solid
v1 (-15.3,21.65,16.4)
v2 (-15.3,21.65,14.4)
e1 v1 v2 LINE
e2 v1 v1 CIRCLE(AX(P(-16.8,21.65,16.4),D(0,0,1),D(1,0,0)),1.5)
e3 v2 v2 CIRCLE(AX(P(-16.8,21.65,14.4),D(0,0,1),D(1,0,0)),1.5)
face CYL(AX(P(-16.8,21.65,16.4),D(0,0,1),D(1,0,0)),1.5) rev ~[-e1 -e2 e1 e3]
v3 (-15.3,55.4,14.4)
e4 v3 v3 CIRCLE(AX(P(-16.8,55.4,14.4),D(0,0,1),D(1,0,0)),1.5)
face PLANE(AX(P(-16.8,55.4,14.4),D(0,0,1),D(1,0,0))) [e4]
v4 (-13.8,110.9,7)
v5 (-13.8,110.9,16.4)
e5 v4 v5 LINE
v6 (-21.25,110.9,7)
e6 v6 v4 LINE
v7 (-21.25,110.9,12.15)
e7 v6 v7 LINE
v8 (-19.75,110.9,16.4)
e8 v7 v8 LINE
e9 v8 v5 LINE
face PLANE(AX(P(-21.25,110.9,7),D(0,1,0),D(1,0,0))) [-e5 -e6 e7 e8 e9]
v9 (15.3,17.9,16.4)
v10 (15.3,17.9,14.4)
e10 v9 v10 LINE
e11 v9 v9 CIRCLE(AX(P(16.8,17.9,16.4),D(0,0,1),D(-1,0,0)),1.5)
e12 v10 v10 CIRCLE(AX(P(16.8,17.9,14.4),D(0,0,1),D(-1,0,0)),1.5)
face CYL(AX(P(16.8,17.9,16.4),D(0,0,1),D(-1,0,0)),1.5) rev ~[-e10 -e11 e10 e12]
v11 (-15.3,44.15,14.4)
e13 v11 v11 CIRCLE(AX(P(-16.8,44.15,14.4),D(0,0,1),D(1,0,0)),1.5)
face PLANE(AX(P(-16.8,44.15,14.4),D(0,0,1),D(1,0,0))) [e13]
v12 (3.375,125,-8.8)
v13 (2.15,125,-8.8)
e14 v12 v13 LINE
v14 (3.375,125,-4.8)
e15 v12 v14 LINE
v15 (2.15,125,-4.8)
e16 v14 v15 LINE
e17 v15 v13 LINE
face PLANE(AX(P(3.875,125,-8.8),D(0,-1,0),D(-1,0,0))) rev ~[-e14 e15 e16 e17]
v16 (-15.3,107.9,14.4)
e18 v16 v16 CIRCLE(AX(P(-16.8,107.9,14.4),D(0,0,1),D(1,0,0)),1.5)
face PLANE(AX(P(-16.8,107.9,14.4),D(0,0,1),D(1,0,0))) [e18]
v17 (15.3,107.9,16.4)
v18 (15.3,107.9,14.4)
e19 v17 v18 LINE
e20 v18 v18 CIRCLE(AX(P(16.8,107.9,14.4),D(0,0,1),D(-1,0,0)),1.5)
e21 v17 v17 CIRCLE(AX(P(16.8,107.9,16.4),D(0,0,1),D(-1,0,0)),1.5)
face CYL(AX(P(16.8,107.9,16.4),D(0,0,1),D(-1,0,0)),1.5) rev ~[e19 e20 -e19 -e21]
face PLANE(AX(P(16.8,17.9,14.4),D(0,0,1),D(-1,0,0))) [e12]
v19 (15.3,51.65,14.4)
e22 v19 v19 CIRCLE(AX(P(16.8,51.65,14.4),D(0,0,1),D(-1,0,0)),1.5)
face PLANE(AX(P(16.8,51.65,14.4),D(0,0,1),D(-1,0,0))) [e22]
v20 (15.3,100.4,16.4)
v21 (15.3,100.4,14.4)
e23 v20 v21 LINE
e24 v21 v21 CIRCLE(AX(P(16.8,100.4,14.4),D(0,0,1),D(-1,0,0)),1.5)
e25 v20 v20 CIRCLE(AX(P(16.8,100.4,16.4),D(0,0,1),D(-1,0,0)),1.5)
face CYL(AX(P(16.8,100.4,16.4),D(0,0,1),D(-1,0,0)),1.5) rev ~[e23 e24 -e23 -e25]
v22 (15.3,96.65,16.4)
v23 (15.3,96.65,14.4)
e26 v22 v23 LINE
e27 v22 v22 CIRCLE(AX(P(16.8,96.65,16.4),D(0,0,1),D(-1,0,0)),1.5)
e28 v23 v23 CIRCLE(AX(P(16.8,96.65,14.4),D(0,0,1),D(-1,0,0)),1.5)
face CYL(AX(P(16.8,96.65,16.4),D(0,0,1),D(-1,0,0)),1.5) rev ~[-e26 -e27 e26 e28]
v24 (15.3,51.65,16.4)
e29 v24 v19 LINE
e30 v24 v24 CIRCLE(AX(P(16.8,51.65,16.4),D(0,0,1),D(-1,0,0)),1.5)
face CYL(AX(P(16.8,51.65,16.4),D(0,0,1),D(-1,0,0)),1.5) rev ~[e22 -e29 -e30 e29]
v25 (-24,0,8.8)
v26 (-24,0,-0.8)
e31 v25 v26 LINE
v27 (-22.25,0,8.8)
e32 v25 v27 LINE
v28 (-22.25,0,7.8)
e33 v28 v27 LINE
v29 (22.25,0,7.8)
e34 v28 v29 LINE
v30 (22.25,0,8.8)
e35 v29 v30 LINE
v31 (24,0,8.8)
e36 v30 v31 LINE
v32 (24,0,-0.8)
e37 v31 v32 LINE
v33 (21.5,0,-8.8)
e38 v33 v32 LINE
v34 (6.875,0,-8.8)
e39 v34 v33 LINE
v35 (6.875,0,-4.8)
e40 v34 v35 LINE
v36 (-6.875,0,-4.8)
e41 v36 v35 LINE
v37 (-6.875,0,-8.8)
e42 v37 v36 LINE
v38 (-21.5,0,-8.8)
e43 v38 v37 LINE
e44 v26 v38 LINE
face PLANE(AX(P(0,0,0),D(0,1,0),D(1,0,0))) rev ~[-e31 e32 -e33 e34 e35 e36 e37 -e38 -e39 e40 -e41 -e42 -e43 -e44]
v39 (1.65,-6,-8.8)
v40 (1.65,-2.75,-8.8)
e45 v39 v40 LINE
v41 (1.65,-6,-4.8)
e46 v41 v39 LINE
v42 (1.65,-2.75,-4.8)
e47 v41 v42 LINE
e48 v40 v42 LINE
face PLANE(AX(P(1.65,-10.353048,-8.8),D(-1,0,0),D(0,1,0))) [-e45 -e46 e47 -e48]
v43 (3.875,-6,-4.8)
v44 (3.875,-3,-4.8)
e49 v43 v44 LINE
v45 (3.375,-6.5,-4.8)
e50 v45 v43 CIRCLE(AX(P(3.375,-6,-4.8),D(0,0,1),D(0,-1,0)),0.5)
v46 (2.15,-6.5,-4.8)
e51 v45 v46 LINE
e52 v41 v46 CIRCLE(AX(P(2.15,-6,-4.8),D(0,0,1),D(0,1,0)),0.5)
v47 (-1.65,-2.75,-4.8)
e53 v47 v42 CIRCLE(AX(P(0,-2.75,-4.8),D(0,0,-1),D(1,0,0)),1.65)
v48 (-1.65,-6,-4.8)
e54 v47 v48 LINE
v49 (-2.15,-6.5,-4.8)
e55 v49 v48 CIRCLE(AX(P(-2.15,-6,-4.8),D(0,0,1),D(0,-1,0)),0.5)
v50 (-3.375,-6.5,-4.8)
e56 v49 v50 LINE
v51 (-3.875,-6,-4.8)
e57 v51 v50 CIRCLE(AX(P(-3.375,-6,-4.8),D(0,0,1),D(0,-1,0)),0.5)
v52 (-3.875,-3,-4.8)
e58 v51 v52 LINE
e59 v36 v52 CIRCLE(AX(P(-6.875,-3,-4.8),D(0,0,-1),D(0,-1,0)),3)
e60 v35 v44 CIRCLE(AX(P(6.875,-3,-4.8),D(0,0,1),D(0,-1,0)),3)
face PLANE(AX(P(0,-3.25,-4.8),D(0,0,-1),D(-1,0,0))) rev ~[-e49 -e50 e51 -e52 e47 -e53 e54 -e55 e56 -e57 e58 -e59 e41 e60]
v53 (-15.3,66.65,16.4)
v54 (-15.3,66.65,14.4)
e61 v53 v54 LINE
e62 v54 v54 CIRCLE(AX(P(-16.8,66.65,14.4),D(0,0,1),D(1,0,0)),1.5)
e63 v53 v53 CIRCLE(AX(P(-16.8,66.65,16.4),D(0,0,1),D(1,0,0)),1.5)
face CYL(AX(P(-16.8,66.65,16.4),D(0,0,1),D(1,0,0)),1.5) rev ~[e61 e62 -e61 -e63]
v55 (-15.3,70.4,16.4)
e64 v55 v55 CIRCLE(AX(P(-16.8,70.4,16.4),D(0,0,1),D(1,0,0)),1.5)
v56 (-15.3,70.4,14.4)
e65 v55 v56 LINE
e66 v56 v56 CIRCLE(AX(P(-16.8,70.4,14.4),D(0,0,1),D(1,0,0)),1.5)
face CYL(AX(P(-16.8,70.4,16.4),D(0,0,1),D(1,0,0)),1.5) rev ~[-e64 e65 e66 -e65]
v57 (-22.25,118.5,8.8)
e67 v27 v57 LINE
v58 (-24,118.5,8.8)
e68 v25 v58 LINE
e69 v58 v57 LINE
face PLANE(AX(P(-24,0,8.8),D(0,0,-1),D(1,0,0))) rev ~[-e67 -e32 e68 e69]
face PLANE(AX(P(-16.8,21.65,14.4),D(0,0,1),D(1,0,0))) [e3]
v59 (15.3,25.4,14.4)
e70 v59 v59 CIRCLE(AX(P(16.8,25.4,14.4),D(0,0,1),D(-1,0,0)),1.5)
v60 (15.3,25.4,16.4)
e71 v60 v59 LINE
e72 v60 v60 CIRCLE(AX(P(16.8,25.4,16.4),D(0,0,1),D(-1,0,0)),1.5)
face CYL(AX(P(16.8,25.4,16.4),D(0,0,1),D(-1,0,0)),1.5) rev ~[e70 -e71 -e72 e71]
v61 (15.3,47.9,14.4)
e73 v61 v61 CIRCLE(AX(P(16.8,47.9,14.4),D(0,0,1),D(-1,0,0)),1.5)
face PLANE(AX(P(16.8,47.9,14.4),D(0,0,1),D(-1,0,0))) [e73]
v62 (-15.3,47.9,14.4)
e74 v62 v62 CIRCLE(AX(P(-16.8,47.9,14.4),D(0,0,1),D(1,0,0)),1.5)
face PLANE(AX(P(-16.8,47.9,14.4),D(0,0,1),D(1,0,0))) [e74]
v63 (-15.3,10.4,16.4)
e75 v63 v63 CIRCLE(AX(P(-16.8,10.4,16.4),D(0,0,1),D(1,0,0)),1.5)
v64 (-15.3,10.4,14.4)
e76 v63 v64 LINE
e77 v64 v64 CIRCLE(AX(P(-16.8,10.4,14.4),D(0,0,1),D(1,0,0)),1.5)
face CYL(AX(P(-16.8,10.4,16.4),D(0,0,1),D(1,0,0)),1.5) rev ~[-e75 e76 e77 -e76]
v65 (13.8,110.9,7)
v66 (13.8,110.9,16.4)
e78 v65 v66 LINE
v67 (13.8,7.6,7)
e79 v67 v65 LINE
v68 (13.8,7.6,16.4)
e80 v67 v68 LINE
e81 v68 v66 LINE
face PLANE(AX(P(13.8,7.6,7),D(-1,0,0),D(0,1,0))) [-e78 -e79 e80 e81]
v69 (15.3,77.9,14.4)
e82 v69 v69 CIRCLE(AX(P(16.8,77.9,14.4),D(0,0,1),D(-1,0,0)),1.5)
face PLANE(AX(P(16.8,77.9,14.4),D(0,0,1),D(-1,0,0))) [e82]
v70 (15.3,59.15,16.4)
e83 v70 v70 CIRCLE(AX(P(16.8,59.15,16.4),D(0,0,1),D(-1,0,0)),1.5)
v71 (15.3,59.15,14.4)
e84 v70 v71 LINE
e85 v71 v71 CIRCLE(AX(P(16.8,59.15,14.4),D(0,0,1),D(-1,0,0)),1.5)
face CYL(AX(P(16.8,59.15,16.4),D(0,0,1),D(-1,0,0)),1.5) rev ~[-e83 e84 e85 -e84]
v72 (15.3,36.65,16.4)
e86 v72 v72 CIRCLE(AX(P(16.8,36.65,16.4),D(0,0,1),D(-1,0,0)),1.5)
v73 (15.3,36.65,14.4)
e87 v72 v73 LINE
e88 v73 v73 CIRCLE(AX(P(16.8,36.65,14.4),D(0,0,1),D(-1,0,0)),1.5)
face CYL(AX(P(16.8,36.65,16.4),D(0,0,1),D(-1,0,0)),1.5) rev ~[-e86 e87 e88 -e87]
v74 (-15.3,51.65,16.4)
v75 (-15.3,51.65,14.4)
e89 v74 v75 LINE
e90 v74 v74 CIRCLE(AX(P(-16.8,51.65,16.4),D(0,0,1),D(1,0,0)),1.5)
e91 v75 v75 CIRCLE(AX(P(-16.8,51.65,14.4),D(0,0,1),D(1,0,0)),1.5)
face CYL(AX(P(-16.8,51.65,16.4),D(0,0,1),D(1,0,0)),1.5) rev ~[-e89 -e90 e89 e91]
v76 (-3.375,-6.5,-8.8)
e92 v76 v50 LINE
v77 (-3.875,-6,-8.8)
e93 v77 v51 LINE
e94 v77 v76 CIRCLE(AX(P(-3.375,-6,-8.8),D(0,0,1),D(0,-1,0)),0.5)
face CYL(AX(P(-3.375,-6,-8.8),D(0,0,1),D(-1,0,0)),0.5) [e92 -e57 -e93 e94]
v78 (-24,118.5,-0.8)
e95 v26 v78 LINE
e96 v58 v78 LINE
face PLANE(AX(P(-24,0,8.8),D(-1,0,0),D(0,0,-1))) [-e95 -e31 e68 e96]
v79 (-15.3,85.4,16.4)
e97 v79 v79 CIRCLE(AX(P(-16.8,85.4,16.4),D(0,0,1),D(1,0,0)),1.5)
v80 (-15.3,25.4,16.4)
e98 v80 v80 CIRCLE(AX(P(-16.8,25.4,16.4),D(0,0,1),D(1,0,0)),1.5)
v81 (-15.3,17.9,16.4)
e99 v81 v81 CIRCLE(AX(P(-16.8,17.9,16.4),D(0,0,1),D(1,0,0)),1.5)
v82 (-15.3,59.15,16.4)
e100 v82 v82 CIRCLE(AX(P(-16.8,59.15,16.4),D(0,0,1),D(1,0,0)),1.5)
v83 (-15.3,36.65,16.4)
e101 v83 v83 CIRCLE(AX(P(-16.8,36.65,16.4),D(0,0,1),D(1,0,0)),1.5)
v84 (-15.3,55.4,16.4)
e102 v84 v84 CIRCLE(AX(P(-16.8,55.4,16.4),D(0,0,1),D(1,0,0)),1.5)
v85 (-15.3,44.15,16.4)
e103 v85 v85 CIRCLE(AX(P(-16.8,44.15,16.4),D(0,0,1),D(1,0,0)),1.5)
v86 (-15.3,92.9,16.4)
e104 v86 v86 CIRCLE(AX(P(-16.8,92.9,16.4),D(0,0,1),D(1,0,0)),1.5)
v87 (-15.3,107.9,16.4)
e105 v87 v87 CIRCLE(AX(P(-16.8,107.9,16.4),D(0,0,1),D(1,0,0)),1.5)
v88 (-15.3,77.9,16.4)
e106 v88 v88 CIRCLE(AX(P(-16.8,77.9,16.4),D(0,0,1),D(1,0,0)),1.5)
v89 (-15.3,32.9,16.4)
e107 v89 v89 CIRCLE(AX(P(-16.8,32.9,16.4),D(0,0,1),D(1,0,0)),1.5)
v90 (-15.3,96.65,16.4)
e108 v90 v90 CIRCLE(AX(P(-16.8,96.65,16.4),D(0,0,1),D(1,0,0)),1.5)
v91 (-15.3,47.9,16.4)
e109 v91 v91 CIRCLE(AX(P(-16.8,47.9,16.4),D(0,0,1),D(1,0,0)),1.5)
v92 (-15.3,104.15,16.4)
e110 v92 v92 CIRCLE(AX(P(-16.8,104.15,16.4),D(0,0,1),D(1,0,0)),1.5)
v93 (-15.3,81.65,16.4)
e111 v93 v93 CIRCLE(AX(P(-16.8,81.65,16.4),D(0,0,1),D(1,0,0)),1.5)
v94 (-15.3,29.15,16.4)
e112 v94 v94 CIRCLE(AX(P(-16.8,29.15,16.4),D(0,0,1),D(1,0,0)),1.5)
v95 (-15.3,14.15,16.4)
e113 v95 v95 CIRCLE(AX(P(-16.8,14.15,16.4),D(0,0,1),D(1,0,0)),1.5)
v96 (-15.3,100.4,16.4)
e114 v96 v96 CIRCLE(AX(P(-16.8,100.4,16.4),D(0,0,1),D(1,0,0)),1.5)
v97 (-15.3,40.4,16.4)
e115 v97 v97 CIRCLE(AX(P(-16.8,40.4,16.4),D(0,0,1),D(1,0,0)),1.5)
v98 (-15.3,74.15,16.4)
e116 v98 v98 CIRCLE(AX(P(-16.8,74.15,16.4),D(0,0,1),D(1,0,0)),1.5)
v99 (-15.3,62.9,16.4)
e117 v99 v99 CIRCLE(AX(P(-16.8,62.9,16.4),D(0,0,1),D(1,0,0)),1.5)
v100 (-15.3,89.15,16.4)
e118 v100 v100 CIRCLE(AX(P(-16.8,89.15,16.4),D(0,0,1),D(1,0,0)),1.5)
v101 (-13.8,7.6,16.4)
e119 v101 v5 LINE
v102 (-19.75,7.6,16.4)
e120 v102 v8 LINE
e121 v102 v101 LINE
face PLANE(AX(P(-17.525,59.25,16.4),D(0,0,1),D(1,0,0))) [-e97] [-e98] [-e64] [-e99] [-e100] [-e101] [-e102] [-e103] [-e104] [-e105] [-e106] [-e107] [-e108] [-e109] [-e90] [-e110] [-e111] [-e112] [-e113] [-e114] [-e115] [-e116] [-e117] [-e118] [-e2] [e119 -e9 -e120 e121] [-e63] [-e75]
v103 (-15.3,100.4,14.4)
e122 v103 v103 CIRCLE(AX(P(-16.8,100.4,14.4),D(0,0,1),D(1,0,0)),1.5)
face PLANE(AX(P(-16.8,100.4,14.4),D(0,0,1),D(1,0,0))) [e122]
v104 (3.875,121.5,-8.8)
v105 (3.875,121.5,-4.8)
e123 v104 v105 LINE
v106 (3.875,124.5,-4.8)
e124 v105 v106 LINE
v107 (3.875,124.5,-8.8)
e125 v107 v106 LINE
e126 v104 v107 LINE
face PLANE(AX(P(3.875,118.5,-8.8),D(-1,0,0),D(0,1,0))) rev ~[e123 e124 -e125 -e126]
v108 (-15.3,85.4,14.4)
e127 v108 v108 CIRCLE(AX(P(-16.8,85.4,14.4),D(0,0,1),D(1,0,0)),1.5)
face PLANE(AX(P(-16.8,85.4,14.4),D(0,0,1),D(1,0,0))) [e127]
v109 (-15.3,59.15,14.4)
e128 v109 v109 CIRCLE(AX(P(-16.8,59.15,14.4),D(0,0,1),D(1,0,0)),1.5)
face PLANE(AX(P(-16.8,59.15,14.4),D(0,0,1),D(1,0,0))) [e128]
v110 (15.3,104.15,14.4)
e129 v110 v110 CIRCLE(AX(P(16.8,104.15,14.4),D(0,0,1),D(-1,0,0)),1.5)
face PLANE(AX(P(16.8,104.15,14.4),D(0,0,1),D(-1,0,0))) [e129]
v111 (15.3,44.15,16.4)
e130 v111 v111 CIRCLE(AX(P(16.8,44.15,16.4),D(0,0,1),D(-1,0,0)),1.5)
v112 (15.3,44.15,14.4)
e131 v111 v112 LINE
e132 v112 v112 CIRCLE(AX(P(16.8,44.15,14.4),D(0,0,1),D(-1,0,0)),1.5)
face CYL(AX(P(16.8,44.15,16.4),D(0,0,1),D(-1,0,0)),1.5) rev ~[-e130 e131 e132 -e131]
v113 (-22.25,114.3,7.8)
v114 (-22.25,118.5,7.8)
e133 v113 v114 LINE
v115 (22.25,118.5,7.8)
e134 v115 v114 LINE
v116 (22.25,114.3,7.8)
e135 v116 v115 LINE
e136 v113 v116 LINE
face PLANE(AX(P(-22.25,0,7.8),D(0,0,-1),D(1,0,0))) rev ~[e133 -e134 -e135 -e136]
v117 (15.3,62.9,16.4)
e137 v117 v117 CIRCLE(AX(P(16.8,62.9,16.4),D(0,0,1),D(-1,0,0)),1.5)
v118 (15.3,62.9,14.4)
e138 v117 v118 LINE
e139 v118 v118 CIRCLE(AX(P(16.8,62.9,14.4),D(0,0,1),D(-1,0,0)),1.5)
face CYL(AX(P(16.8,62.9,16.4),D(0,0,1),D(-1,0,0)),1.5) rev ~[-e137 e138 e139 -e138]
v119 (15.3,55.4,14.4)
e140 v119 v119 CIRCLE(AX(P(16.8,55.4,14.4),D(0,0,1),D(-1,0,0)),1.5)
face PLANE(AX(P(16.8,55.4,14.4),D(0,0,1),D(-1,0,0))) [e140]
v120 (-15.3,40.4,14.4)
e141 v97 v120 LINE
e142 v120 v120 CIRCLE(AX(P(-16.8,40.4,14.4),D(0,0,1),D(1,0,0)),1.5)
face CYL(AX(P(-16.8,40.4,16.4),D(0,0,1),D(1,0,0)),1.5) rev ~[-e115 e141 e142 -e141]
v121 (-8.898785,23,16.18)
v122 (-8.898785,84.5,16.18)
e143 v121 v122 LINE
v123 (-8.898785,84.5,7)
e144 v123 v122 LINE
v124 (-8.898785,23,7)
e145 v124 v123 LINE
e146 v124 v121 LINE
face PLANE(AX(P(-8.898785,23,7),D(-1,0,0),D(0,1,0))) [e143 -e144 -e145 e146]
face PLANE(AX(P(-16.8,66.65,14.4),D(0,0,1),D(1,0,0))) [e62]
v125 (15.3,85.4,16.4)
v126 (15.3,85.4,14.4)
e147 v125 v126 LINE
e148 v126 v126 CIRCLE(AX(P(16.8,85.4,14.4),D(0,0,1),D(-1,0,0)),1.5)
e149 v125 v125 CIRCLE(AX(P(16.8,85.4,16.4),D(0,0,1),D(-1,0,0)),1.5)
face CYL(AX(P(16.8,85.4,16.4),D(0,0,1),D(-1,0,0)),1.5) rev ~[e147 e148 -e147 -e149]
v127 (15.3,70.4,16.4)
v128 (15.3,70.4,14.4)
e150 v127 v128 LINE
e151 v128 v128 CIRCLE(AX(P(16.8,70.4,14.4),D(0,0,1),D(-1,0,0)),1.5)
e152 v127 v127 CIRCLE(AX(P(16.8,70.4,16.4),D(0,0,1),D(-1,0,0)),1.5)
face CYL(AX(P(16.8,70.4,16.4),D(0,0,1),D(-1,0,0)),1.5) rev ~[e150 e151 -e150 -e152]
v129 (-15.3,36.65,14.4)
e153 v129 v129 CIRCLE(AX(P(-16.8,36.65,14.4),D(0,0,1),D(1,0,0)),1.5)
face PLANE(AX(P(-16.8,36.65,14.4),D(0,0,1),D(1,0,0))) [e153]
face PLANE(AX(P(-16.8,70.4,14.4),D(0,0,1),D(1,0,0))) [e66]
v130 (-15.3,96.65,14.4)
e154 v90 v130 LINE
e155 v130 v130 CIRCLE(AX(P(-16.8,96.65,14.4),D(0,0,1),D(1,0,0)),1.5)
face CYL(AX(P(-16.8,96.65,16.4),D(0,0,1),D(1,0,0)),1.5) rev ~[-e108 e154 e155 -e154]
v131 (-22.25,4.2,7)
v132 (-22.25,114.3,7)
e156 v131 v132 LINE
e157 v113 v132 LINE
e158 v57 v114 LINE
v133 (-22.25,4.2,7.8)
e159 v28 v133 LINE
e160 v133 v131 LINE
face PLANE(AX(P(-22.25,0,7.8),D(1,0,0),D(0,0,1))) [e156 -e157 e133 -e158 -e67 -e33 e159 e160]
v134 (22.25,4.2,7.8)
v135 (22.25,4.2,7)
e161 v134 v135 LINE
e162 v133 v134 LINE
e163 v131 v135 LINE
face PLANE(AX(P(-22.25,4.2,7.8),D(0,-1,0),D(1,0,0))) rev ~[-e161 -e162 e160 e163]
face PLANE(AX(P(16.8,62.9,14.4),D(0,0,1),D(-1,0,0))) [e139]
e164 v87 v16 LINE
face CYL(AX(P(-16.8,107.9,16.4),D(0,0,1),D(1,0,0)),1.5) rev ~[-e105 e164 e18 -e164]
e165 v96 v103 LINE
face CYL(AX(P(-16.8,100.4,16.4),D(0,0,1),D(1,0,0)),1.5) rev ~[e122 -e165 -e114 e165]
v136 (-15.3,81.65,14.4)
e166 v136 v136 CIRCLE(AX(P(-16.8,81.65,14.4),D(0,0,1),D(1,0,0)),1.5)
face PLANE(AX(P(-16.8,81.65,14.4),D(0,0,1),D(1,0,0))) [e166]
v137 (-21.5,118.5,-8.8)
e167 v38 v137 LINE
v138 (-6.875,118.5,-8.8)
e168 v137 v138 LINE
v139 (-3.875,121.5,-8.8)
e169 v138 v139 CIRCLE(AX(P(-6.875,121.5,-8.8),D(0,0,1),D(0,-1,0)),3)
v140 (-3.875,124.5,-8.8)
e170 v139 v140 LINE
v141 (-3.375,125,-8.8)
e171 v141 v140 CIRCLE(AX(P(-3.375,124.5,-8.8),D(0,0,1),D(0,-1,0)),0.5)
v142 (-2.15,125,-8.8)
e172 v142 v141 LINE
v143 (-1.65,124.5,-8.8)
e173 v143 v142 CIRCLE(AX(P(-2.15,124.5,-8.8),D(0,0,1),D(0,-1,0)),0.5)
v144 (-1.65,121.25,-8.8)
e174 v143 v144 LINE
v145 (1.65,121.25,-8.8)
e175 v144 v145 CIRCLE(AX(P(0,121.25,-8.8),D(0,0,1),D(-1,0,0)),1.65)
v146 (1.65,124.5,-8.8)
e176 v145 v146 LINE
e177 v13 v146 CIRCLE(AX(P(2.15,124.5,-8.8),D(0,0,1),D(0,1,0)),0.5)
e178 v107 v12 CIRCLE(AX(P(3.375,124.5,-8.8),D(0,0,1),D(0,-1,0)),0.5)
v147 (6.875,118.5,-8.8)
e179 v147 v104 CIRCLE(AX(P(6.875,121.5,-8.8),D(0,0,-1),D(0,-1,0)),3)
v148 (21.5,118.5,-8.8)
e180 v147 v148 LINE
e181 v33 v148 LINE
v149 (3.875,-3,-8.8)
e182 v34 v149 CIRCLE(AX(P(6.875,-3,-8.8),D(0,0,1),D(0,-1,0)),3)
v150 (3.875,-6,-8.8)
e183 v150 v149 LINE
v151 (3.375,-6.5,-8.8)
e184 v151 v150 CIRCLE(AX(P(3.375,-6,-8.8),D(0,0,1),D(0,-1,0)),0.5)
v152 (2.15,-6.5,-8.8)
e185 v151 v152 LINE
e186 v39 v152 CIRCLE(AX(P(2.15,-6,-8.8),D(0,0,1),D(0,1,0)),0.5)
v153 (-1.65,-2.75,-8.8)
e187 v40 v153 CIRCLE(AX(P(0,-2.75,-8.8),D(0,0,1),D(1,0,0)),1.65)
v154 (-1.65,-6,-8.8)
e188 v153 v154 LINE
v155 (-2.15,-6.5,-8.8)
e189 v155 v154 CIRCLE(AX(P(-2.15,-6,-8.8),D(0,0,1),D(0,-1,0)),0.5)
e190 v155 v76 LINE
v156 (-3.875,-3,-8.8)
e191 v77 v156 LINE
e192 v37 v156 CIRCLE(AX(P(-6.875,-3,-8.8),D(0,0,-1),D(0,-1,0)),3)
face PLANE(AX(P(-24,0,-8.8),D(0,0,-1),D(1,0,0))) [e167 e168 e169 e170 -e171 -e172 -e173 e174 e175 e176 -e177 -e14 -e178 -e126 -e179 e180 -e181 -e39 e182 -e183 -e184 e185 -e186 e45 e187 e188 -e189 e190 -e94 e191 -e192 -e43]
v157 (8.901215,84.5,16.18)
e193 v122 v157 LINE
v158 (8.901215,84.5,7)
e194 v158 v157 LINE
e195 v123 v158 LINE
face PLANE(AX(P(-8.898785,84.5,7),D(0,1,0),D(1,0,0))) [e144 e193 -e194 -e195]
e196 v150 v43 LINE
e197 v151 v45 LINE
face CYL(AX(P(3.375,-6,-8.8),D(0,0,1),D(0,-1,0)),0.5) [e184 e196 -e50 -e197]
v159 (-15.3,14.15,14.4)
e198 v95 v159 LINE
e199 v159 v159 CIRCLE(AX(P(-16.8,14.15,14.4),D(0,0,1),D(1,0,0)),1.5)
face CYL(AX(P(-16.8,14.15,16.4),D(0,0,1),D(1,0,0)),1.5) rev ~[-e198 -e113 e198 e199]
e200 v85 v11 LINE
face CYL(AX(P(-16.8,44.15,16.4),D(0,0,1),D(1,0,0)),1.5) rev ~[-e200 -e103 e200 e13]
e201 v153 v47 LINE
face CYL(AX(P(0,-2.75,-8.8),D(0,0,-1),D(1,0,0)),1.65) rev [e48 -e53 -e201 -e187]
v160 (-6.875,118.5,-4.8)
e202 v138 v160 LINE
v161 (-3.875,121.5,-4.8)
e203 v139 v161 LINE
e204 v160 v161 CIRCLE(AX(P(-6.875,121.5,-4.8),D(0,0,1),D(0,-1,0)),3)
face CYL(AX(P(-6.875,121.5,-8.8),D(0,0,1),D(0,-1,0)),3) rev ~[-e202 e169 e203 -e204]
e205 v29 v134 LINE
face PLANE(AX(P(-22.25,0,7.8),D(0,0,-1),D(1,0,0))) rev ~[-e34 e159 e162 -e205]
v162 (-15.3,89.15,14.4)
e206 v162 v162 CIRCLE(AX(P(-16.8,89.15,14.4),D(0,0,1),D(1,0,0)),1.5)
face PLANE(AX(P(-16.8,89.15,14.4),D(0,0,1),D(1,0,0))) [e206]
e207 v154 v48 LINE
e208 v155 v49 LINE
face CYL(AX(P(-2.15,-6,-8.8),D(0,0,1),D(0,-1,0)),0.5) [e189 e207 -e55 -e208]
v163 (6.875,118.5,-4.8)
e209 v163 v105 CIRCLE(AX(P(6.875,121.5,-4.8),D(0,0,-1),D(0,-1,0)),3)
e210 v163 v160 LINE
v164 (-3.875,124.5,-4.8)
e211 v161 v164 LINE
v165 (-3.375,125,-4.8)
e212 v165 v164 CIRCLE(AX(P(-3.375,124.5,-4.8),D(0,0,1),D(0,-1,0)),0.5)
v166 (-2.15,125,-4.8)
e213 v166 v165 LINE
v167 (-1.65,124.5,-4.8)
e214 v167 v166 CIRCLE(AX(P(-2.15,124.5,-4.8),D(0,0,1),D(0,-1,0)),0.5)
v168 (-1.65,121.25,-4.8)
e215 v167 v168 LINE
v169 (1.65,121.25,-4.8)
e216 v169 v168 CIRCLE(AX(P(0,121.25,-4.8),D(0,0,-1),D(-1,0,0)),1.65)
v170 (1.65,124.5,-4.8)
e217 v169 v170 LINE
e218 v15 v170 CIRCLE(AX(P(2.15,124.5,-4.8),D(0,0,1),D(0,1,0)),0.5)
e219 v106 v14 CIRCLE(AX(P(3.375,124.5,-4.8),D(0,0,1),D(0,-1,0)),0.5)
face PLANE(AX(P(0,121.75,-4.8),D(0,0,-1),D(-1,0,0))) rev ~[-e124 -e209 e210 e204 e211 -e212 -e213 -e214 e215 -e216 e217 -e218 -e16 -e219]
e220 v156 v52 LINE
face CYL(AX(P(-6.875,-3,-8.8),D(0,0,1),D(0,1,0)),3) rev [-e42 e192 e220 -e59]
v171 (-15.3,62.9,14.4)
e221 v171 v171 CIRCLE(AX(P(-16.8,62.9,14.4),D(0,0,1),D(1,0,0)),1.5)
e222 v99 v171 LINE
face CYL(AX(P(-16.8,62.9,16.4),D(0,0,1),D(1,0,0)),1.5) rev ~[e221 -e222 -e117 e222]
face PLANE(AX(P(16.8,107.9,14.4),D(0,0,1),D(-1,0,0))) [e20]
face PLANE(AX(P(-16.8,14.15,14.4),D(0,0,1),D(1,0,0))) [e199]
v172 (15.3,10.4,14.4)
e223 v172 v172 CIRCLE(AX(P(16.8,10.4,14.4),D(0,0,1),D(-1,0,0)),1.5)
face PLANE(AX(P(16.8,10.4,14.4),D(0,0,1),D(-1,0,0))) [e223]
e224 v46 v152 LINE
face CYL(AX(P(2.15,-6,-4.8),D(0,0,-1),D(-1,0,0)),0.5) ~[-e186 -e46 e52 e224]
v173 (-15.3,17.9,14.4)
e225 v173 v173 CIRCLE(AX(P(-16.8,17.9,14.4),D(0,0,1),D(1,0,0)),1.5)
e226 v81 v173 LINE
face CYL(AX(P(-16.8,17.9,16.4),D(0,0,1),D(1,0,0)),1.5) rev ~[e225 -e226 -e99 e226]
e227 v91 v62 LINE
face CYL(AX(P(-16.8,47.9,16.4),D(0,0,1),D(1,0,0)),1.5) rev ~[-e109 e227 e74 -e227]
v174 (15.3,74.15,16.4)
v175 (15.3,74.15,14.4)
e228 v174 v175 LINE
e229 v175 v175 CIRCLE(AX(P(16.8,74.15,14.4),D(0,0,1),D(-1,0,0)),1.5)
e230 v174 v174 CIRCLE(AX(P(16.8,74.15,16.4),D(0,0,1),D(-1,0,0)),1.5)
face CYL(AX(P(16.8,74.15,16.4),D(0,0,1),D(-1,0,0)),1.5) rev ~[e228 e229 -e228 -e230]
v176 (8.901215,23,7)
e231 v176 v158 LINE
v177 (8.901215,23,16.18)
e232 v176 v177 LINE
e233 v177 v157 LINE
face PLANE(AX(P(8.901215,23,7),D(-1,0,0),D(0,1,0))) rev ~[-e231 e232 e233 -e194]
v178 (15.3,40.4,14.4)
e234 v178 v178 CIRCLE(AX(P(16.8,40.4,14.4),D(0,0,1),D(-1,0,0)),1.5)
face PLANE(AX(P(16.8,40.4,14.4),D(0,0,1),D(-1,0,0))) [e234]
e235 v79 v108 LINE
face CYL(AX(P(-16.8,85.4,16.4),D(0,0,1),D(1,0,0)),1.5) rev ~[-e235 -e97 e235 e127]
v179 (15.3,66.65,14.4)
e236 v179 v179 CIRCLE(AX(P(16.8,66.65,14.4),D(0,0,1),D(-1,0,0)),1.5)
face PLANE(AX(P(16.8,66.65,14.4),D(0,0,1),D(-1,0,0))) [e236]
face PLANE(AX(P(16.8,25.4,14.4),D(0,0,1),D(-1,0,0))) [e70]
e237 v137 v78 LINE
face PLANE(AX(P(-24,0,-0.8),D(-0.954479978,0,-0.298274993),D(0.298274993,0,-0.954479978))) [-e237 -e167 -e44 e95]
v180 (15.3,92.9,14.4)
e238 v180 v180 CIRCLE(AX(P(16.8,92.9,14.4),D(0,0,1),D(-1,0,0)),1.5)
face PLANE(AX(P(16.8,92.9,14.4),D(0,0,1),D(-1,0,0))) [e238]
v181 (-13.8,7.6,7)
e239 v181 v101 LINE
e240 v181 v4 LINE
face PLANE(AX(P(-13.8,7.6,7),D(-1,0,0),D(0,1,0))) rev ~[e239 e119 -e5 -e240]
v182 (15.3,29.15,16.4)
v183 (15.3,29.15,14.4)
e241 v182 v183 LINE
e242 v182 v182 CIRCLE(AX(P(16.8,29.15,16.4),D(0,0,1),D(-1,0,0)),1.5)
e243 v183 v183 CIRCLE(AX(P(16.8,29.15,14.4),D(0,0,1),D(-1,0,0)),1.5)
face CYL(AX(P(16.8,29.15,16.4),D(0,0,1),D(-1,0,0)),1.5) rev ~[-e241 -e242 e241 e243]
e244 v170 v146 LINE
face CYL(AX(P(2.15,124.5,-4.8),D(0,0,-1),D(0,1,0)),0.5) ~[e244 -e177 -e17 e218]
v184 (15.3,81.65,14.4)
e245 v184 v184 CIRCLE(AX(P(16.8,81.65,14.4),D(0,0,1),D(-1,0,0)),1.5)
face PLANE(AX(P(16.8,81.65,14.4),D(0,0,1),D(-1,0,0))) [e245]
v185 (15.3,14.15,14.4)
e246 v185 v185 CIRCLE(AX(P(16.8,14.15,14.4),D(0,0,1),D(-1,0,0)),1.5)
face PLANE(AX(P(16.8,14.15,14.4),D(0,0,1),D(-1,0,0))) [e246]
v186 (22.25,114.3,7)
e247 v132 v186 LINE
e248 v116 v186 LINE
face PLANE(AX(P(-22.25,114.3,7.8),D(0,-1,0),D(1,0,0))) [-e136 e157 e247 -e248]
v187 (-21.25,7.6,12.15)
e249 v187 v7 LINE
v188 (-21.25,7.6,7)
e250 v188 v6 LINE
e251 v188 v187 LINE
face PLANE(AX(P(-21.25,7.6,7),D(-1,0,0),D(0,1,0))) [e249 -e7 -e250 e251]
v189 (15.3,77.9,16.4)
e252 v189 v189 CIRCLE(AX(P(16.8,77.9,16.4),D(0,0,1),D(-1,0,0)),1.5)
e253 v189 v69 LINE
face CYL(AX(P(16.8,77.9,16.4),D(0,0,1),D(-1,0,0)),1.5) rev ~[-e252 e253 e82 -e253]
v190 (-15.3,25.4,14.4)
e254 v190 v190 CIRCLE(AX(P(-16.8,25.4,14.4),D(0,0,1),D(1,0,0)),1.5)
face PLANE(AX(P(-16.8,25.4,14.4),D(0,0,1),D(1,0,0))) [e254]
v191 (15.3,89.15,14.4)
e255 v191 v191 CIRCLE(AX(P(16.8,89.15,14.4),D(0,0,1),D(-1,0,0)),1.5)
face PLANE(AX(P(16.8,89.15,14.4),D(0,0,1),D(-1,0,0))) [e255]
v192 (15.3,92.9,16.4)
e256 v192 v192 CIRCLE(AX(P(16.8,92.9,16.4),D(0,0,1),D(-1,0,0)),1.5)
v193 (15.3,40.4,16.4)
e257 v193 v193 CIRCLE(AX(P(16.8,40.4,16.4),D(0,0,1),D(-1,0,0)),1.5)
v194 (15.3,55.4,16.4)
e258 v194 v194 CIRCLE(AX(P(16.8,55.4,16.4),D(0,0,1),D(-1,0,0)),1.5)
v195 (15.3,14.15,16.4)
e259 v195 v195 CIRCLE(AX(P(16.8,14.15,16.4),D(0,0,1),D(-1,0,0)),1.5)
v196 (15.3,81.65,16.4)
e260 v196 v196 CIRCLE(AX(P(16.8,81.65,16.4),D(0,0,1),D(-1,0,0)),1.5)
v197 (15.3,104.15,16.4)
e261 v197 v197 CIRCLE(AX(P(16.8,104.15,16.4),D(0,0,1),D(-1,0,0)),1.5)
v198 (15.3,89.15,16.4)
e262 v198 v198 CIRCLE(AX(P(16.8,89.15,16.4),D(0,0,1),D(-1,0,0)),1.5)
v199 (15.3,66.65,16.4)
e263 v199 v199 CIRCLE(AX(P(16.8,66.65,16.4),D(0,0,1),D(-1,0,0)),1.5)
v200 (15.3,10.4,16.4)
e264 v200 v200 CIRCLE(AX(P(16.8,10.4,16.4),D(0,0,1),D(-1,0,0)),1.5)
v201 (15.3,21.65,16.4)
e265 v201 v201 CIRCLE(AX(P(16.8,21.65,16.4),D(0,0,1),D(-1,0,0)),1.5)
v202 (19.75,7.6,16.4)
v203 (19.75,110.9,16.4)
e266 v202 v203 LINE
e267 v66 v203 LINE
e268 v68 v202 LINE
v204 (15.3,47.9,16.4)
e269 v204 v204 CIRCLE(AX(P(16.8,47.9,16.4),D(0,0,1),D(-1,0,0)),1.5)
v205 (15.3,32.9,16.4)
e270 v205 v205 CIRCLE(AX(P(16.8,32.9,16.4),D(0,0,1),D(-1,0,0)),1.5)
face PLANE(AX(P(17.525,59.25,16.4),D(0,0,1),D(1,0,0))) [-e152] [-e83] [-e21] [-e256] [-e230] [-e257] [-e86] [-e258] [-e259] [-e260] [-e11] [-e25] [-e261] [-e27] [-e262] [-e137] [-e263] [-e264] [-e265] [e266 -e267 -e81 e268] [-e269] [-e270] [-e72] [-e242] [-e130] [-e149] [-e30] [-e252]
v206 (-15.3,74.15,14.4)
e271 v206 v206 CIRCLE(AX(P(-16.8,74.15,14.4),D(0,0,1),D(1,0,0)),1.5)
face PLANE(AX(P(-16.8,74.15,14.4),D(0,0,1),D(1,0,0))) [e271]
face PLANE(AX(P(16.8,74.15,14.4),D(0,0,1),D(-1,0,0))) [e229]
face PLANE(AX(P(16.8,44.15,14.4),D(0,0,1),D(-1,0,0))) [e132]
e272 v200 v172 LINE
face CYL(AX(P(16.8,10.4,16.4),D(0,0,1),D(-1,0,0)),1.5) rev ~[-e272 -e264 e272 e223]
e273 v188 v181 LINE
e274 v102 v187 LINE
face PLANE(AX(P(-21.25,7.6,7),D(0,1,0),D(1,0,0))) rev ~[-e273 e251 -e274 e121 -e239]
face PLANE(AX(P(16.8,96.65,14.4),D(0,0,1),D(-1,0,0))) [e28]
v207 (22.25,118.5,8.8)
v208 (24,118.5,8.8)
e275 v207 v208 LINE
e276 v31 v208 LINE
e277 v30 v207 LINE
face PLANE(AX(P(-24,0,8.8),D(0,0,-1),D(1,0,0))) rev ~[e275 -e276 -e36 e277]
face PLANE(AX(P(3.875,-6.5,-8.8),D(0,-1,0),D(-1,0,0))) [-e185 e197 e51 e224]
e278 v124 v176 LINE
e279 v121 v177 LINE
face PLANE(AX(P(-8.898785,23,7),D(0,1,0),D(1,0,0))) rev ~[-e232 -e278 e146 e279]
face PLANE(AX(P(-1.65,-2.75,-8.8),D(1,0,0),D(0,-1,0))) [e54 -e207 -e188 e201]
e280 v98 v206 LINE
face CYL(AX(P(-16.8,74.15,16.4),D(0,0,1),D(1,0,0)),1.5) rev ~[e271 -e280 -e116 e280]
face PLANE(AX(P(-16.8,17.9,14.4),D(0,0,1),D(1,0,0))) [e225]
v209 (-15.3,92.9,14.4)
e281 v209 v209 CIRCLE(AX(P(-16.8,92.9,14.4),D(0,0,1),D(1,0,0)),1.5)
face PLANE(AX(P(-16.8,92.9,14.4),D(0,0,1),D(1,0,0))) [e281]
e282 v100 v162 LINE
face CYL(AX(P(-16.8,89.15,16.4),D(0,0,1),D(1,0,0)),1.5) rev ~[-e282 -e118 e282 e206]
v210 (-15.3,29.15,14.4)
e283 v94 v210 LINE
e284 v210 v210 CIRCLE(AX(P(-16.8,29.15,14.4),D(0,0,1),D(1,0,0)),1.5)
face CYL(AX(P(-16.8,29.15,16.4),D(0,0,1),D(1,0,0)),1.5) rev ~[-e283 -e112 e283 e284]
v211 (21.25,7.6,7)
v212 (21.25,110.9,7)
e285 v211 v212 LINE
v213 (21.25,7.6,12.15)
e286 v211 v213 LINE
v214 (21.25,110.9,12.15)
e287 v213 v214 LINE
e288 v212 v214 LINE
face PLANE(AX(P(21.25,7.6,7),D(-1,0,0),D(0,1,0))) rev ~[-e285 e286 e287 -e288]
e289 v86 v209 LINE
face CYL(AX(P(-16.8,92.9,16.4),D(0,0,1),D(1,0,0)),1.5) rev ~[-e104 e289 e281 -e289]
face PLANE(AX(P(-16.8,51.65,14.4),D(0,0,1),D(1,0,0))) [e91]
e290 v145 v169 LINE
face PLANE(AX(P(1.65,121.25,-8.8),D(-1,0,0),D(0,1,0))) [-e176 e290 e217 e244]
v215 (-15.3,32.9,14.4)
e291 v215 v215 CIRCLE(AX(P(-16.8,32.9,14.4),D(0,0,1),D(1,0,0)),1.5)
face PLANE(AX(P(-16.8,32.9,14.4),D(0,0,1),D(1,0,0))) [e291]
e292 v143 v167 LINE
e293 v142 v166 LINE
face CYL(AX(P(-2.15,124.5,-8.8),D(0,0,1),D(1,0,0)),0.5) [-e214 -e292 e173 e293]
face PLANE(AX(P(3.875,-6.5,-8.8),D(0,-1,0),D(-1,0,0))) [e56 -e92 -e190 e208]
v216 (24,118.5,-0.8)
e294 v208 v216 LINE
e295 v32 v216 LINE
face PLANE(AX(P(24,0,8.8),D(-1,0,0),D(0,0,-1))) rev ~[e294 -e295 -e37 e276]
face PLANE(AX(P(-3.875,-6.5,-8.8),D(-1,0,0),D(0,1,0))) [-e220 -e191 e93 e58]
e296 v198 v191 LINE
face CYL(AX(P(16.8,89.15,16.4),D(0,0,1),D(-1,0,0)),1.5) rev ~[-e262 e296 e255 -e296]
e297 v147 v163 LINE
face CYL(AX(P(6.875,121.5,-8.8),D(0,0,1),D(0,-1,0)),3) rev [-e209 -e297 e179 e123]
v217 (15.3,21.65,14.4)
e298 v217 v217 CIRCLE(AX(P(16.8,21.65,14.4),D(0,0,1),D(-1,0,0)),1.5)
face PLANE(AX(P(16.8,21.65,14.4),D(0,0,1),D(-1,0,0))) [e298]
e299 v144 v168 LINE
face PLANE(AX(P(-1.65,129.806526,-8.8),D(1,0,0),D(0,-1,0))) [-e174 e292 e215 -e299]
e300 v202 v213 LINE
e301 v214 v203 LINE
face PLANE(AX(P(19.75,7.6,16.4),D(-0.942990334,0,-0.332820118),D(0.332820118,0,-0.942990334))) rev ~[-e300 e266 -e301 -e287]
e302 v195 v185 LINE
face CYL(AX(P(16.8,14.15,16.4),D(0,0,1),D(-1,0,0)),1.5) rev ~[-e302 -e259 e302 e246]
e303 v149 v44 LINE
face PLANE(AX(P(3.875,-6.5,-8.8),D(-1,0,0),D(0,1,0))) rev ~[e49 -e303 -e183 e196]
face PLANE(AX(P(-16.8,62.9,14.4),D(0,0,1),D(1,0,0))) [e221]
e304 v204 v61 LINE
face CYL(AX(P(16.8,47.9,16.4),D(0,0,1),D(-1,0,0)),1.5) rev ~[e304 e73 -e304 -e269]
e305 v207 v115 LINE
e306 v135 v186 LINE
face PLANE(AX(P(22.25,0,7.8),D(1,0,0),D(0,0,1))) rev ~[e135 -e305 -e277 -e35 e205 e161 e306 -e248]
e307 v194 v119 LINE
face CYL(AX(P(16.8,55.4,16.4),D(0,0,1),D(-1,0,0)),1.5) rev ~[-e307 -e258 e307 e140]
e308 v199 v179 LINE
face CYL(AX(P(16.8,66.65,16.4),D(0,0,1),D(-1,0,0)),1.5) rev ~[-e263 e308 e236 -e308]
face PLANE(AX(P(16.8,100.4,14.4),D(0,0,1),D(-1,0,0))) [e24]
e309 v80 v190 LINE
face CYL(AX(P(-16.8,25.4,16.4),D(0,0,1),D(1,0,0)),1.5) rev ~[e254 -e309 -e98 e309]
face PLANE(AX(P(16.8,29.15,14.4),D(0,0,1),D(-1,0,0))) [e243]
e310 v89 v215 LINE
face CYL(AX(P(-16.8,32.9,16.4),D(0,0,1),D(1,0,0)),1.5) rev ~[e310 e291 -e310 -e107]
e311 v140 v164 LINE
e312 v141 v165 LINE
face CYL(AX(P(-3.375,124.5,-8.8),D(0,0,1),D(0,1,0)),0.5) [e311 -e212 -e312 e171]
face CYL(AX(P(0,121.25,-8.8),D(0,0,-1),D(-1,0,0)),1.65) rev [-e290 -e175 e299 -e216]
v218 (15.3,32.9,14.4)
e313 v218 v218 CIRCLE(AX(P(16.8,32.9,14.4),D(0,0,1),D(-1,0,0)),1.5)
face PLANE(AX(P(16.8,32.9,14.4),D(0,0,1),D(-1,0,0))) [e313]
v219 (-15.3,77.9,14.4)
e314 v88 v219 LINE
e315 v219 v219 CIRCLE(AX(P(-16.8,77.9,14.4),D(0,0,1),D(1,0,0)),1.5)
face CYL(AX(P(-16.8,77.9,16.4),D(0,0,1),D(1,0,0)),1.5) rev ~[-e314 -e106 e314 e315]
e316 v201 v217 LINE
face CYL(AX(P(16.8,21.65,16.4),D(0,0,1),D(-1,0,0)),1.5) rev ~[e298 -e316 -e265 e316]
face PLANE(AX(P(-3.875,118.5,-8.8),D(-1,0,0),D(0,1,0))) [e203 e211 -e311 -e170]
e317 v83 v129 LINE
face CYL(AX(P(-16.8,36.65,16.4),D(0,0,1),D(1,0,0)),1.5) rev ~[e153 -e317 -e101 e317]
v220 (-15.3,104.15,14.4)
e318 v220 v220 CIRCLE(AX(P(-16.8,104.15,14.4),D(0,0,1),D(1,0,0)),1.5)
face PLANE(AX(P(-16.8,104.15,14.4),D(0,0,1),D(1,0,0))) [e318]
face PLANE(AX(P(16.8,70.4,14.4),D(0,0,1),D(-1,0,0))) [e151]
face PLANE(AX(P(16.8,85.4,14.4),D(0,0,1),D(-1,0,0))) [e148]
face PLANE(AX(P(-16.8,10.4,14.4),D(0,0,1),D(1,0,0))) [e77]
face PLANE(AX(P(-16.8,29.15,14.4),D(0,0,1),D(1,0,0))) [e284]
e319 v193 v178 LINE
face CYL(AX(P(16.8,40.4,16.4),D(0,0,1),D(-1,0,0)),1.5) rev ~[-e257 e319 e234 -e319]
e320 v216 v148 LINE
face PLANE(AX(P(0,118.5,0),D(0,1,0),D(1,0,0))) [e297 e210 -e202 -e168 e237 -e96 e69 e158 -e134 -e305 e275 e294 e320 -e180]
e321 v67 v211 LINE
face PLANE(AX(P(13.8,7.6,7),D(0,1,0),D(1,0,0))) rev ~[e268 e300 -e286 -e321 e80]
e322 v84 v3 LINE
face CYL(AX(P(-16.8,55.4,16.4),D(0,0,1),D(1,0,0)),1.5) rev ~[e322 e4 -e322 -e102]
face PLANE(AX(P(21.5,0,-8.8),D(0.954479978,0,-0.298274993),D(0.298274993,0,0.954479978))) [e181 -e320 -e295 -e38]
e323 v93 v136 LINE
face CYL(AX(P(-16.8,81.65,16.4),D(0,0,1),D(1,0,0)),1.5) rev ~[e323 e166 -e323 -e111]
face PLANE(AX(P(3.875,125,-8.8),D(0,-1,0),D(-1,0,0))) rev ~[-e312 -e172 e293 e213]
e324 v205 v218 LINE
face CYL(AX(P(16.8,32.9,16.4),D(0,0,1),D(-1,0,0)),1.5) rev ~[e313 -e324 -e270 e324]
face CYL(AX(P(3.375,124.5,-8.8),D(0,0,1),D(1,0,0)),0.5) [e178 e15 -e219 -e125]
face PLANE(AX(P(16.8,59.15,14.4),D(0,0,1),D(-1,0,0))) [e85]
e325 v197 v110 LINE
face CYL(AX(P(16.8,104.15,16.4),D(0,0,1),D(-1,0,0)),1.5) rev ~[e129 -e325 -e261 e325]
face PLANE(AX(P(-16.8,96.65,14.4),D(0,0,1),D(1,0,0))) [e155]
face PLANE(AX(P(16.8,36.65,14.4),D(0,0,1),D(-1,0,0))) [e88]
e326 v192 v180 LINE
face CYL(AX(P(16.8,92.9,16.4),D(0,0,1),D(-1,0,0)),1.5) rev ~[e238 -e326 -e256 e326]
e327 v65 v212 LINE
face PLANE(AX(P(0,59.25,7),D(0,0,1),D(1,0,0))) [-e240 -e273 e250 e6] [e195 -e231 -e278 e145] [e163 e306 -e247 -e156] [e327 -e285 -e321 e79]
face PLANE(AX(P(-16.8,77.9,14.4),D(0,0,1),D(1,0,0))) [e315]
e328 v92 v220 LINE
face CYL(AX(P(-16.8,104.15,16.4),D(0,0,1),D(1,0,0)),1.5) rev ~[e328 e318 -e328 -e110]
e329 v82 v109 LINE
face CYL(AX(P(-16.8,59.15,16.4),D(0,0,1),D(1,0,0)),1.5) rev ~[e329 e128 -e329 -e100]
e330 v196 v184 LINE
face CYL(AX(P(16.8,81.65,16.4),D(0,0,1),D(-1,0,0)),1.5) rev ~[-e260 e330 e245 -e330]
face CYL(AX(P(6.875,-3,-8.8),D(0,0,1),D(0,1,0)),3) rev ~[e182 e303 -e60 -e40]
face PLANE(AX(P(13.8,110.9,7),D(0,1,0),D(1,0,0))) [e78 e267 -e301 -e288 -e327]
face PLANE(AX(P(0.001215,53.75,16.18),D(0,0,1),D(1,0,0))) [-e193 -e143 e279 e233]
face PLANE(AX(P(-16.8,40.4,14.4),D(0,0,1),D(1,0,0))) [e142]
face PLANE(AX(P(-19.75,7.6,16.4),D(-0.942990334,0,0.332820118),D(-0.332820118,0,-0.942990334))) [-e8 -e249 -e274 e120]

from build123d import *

# Parameters (mm, degrees)
SKETCH1_W           = 48
SKETCH1_H           = 17.6
BOSS_EXTRUDE1_DEPTH = 118.5
SKETCH2_W           = 44.5
SKETCH2_H           = 1
CUT_EXTRUDE1_DEPTH  = 122.225781086
SKETCH3_W           = 44.5
SKETCH3_H           = 110.1
CUT_EXTRUDE2_DEPTH  = 0.8
SKETCH4_W           = 7.75
SKETCH4_H           = 6.5
BOSS_EXTRUDE2_DEPTH = 4
FILLET1_R           = 3
CUT_EXTRUDE3_DEPTH  = 129.494202204
FILLET2_R           = 0.5
SKETCH6_W           = 7.45
SKETCH6_H           = 103.3
BOSS_EXTRUDE3_DEPTH = 9.4
CUT_EXTRUDE4_DEPTH  = 121.945111518
SKETCH8_R           = 1.5
CUT_EXTRUDE5_DEPTH  = 2
SKETCH9_W           = 17.8
SKETCH9_H           = 61.5
BOSS_EXTRUDE4_DEPTH = 9.18


with BuildPart() as part:
    # Sketch1 → Boss-Extrude1 (new body)
    with BuildSketch(Plane(origin=(0, 0, 0), x_dir=(1, 0, 0), z_dir=(0, 1, 0))):
        Rectangle(SKETCH1_W, SKETCH1_H)
    extrude(amount=BOSS_EXTRUDE1_DEPTH)

    # Sketch2 → Cut-Extrude1 (cut, through all)
    with BuildSketch(Plane.XZ):
        with Locations((0, 8.3)):
            Rectangle(SKETCH2_W, SKETCH2_H)
        Polygon((-24, -0.8), (-21.5, -8.8), (-24, -8.8), align=None)
        Polygon((24, -8.8), (21.5, -8.8), (24, -0.8), align=None)
    extrude(amount=-CUT_EXTRUDE1_DEPTH, mode=Mode.SUBTRACT)

    # Sketch3 → Cut-Extrude2 (cut)
    with BuildSketch(Plane.XY.offset(7.8)):
        with Locations((0, 59.25)):
            Rectangle(SKETCH3_W, SKETCH3_H)
    extrude(amount=-CUT_EXTRUDE2_DEPTH, mode=Mode.SUBTRACT)

    # Sketch4 → Boss-Extrude2 (add)
    with BuildSketch(Plane(origin=(0, 0, -8.8), x_dir=(-1, 0, 0), z_dir=(0, 0, -1))):
        with Locations((0, 121.75)):
            Rectangle(SKETCH4_W, SKETCH4_H)
        with Locations((0, -3.25)):
            Rectangle(SKETCH4_W, SKETCH4_H)
    extrude(amount=-BOSS_EXTRUDE2_DEPTH)

    # Fillet1
    fillet1_edges = [part.edges().sort_by_distance(p)[0] for p in [
        (-3.875, 118.5, -6.8),
        (3.875, 118.5, -6.8),
        (3.875, 0, -6.8),
        (-3.875, 0, -6.8),
    ]]
    fillet(fillet1_edges, radius=FILLET1_R)

    # Sketch5 → Cut-Extrude3 (cut, through all)
    with BuildSketch(Plane(origin=(0, 0, -8.8), x_dir=(-1, 0, 0), z_dir=(0, 0, -1))):
        with BuildLine():
            Line((1.65, 129.806526387), (1.65, 121.25))
            ThreePointArc((1.65, 121.25), (0, 119.6), (-1.65, 121.25))
            Line((-1.65, 121.25), (-1.65, 129.806526387))
            ThreePointArc((-1.65, 129.806526387), (0, 131.456526387), (1.65, 129.806526387))
        make_face()
        with BuildLine():
            Line((1.65, -2.75), (1.65, -10.353047519))
            ThreePointArc((1.65, -10.353047519), (0, -12.003047519), (-1.65, -10.353047519))
            Line((-1.65, -10.353047519), (-1.65, -2.75))
            ThreePointArc((-1.65, -2.75), (0, -1.1), (1.65, -2.75))
        make_face()
    extrude(amount=-CUT_EXTRUDE3_DEPTH, mode=Mode.SUBTRACT)

    # Fillet2
    fillet2_edges = [part.edges().sort_by_distance(p)[0] for p in [
        (-1.65, 125, -6.8),
        (1.65, 125, -6.8),
        (-1.65, -6.5, -6.8),
        (1.65, -6.5, -6.8),
        (-3.875, 125, -6.8),
        (3.875, 125, -6.8),
        (3.875, -6.5, -6.8),
        (-3.875, -6.5, -6.8),
    ]]
    fillet(fillet2_edges, radius=FILLET2_R)

    # Sketch6 → Boss-Extrude3 (add)
    with BuildSketch(Plane.XY.offset(7)):
        with Locations((-17.525, 59.25)):
            Rectangle(SKETCH6_W, SKETCH6_H)
        with Locations((17.525, 59.25)):
            Rectangle(SKETCH6_W, SKETCH6_H)
    extrude(amount=BOSS_EXTRUDE3_DEPTH)

    # Sketch7 → Cut-Extrude4 (cut, through all)
    with BuildSketch(Plane.XZ.offset(-7.6)):
        Polygon((-19.75, 16.4), (-21.25, 12.15), (-21.25, 16.4), align=None)
        Polygon((21.25, 16.4), (19.75, 16.4), (21.25, 12.15), align=None)
    extrude(amount=-CUT_EXTRUDE4_DEPTH, mode=Mode.SUBTRACT)

    # Sketch8 → Cut-Extrude5 (cut)
    with BuildSketch(Plane.XY.offset(16.4)):
        with Locations((-16.8, 107.9)):
            Circle(SKETCH8_R)
        with Locations((-16.8, 104.15)):
            Circle(SKETCH8_R)
        with Locations((-16.8, 100.4)):
            Circle(SKETCH8_R)
        with Locations((-16.8, 96.65)):
            Circle(SKETCH8_R)
        with Locations((-16.8, 92.9)):
            Circle(SKETCH8_R)
        with Locations((-16.8, 89.15)):
            Circle(SKETCH8_R)
        with Locations((-16.8, 85.4)):
            Circle(SKETCH8_R)
        with Locations((-16.8, 81.65)):
            Circle(SKETCH8_R)
        with Locations((-16.8, 77.9)):
            Circle(SKETCH8_R)
        with Locations((-16.8, 74.15)):
            Circle(SKETCH8_R)
        with Locations((-16.8, 70.4)):
            Circle(SKETCH8_R)
        with Locations((-16.8, 66.65)):
            Circle(SKETCH8_R)
        with Locations((-16.8, 62.9)):
            Circle(SKETCH8_R)
        with Locations((-16.8, 59.15)):
            Circle(SKETCH8_R)
        with Locations((-16.8, 55.4)):
            Circle(SKETCH8_R)
        with Locations((-16.8, 51.65)):
            Circle(SKETCH8_R)
        with Locations((-16.8, 47.9)):
            Circle(SKETCH8_R)
        with Locations((-16.8, 44.15)):
            Circle(SKETCH8_R)
        with Locations((-16.8, 40.4)):
            Circle(SKETCH8_R)
        with Locations((-16.8, 36.65)):
            Circle(SKETCH8_R)
        with Locations((-16.8, 32.9)):
            Circle(SKETCH8_R)
        with Locations((-16.8, 29.15)):
            Circle(SKETCH8_R)
        with Locations((-16.8, 25.4)):
            Circle(SKETCH8_R)
        with Locations((-16.8, 21.65)):
            Circle(SKETCH8_R)
        with Locations((-16.8, 17.9)):
            Circle(SKETCH8_R)
        with Locations((-16.8, 14.15)):
            Circle(SKETCH8_R)
        with Locations((-16.8, 10.4)):
            Circle(SKETCH8_R)
        with Locations(Location((16.8, 10.4, 0), (0, 0, 180))):
            Circle(SKETCH8_R)
        with Locations(Location((16.8, 14.15, 0), (0, 0, 180))):
            Circle(SKETCH8_R)
        with Locations(Location((16.8, 17.9, 0), (0, 0, 180))):
            Circle(SKETCH8_R)
        with Locations(Location((16.8, 21.65, 0), (0, 0, 180))):
            Circle(SKETCH8_R)
        with Locations(Location((16.8, 25.4, 0), (0, 0, 180))):
            Circle(SKETCH8_R)
        with Locations(Location((16.8, 29.15, 0), (0, 0, 180))):
            Circle(SKETCH8_R)
        with Locations(Location((16.8, 32.9, 0), (0, 0, 180))):
            Circle(SKETCH8_R)
        with Locations(Location((16.8, 36.65, 0), (0, 0, 180))):
            Circle(SKETCH8_R)
        with Locations(Location((16.8, 40.4, 0), (0, 0, 180))):
            Circle(SKETCH8_R)
        with Locations(Location((16.8, 44.15, 0), (0, 0, 180))):
            Circle(SKETCH8_R)
        with Locations(Location((16.8, 47.9, 0), (0, 0, 180))):
            Circle(SKETCH8_R)
        with Locations(Location((16.8, 51.65, 0), (0, 0, 180))):
            Circle(SKETCH8_R)
        with Locations(Location((16.8, 55.4, 0), (0, 0, 180))):
            Circle(SKETCH8_R)
        with Locations(Location((16.8, 59.15, 0), (0, 0, 180))):
            Circle(SKETCH8_R)
        with Locations(Location((16.8, 62.9, 0), (0, 0, 180))):
            Circle(SKETCH8_R)
        with Locations(Location((16.8, 66.65, 0), (0, 0, 180))):
            Circle(SKETCH8_R)
        with Locations(Location((16.8, 70.4, 0), (0, 0, 180))):
            Circle(SKETCH8_R)
        with Locations(Location((16.8, 74.15, 0), (0, 0, 180))):
            Circle(SKETCH8_R)
        with Locations(Location((16.8, 77.9, 0), (0, 0, 180))):
            Circle(SKETCH8_R)
        with Locations(Location((16.8, 81.65, 0), (0, 0, 180))):
            Circle(SKETCH8_R)
        with Locations(Location((16.8, 85.4, 0), (0, 0, 180))):
            Circle(SKETCH8_R)
        with Locations(Location((16.8, 89.15, 0), (0, 0, 180))):
            Circle(SKETCH8_R)
        with Locations(Location((16.8, 92.9, 0), (0, 0, 180))):
            Circle(SKETCH8_R)
        with Locations(Location((16.8, 96.65, 0), (0, 0, 180))):
            Circle(SKETCH8_R)
        with Locations(Location((16.8, 100.4, 0), (0, 0, 180))):
            Circle(SKETCH8_R)
        with Locations(Location((16.8, 104.15, 0), (0, 0, 180))):
            Circle(SKETCH8_R)
        with Locations(Location((16.8, 107.9, 0), (0, 0, 180))):
            Circle(SKETCH8_R)
    extrude(amount=-CUT_EXTRUDE5_DEPTH, mode=Mode.SUBTRACT)

    # Sketch9 → Boss-Extrude4 (add)
    with BuildSketch(Plane.XY.offset(7)):
        with Locations((0.001215362, 53.75)):
            Rectangle(SKETCH9_W, SKETCH9_H)
    extrude(amount=BOSS_EXTRUDE4_DEPTH)


solid = part.part
